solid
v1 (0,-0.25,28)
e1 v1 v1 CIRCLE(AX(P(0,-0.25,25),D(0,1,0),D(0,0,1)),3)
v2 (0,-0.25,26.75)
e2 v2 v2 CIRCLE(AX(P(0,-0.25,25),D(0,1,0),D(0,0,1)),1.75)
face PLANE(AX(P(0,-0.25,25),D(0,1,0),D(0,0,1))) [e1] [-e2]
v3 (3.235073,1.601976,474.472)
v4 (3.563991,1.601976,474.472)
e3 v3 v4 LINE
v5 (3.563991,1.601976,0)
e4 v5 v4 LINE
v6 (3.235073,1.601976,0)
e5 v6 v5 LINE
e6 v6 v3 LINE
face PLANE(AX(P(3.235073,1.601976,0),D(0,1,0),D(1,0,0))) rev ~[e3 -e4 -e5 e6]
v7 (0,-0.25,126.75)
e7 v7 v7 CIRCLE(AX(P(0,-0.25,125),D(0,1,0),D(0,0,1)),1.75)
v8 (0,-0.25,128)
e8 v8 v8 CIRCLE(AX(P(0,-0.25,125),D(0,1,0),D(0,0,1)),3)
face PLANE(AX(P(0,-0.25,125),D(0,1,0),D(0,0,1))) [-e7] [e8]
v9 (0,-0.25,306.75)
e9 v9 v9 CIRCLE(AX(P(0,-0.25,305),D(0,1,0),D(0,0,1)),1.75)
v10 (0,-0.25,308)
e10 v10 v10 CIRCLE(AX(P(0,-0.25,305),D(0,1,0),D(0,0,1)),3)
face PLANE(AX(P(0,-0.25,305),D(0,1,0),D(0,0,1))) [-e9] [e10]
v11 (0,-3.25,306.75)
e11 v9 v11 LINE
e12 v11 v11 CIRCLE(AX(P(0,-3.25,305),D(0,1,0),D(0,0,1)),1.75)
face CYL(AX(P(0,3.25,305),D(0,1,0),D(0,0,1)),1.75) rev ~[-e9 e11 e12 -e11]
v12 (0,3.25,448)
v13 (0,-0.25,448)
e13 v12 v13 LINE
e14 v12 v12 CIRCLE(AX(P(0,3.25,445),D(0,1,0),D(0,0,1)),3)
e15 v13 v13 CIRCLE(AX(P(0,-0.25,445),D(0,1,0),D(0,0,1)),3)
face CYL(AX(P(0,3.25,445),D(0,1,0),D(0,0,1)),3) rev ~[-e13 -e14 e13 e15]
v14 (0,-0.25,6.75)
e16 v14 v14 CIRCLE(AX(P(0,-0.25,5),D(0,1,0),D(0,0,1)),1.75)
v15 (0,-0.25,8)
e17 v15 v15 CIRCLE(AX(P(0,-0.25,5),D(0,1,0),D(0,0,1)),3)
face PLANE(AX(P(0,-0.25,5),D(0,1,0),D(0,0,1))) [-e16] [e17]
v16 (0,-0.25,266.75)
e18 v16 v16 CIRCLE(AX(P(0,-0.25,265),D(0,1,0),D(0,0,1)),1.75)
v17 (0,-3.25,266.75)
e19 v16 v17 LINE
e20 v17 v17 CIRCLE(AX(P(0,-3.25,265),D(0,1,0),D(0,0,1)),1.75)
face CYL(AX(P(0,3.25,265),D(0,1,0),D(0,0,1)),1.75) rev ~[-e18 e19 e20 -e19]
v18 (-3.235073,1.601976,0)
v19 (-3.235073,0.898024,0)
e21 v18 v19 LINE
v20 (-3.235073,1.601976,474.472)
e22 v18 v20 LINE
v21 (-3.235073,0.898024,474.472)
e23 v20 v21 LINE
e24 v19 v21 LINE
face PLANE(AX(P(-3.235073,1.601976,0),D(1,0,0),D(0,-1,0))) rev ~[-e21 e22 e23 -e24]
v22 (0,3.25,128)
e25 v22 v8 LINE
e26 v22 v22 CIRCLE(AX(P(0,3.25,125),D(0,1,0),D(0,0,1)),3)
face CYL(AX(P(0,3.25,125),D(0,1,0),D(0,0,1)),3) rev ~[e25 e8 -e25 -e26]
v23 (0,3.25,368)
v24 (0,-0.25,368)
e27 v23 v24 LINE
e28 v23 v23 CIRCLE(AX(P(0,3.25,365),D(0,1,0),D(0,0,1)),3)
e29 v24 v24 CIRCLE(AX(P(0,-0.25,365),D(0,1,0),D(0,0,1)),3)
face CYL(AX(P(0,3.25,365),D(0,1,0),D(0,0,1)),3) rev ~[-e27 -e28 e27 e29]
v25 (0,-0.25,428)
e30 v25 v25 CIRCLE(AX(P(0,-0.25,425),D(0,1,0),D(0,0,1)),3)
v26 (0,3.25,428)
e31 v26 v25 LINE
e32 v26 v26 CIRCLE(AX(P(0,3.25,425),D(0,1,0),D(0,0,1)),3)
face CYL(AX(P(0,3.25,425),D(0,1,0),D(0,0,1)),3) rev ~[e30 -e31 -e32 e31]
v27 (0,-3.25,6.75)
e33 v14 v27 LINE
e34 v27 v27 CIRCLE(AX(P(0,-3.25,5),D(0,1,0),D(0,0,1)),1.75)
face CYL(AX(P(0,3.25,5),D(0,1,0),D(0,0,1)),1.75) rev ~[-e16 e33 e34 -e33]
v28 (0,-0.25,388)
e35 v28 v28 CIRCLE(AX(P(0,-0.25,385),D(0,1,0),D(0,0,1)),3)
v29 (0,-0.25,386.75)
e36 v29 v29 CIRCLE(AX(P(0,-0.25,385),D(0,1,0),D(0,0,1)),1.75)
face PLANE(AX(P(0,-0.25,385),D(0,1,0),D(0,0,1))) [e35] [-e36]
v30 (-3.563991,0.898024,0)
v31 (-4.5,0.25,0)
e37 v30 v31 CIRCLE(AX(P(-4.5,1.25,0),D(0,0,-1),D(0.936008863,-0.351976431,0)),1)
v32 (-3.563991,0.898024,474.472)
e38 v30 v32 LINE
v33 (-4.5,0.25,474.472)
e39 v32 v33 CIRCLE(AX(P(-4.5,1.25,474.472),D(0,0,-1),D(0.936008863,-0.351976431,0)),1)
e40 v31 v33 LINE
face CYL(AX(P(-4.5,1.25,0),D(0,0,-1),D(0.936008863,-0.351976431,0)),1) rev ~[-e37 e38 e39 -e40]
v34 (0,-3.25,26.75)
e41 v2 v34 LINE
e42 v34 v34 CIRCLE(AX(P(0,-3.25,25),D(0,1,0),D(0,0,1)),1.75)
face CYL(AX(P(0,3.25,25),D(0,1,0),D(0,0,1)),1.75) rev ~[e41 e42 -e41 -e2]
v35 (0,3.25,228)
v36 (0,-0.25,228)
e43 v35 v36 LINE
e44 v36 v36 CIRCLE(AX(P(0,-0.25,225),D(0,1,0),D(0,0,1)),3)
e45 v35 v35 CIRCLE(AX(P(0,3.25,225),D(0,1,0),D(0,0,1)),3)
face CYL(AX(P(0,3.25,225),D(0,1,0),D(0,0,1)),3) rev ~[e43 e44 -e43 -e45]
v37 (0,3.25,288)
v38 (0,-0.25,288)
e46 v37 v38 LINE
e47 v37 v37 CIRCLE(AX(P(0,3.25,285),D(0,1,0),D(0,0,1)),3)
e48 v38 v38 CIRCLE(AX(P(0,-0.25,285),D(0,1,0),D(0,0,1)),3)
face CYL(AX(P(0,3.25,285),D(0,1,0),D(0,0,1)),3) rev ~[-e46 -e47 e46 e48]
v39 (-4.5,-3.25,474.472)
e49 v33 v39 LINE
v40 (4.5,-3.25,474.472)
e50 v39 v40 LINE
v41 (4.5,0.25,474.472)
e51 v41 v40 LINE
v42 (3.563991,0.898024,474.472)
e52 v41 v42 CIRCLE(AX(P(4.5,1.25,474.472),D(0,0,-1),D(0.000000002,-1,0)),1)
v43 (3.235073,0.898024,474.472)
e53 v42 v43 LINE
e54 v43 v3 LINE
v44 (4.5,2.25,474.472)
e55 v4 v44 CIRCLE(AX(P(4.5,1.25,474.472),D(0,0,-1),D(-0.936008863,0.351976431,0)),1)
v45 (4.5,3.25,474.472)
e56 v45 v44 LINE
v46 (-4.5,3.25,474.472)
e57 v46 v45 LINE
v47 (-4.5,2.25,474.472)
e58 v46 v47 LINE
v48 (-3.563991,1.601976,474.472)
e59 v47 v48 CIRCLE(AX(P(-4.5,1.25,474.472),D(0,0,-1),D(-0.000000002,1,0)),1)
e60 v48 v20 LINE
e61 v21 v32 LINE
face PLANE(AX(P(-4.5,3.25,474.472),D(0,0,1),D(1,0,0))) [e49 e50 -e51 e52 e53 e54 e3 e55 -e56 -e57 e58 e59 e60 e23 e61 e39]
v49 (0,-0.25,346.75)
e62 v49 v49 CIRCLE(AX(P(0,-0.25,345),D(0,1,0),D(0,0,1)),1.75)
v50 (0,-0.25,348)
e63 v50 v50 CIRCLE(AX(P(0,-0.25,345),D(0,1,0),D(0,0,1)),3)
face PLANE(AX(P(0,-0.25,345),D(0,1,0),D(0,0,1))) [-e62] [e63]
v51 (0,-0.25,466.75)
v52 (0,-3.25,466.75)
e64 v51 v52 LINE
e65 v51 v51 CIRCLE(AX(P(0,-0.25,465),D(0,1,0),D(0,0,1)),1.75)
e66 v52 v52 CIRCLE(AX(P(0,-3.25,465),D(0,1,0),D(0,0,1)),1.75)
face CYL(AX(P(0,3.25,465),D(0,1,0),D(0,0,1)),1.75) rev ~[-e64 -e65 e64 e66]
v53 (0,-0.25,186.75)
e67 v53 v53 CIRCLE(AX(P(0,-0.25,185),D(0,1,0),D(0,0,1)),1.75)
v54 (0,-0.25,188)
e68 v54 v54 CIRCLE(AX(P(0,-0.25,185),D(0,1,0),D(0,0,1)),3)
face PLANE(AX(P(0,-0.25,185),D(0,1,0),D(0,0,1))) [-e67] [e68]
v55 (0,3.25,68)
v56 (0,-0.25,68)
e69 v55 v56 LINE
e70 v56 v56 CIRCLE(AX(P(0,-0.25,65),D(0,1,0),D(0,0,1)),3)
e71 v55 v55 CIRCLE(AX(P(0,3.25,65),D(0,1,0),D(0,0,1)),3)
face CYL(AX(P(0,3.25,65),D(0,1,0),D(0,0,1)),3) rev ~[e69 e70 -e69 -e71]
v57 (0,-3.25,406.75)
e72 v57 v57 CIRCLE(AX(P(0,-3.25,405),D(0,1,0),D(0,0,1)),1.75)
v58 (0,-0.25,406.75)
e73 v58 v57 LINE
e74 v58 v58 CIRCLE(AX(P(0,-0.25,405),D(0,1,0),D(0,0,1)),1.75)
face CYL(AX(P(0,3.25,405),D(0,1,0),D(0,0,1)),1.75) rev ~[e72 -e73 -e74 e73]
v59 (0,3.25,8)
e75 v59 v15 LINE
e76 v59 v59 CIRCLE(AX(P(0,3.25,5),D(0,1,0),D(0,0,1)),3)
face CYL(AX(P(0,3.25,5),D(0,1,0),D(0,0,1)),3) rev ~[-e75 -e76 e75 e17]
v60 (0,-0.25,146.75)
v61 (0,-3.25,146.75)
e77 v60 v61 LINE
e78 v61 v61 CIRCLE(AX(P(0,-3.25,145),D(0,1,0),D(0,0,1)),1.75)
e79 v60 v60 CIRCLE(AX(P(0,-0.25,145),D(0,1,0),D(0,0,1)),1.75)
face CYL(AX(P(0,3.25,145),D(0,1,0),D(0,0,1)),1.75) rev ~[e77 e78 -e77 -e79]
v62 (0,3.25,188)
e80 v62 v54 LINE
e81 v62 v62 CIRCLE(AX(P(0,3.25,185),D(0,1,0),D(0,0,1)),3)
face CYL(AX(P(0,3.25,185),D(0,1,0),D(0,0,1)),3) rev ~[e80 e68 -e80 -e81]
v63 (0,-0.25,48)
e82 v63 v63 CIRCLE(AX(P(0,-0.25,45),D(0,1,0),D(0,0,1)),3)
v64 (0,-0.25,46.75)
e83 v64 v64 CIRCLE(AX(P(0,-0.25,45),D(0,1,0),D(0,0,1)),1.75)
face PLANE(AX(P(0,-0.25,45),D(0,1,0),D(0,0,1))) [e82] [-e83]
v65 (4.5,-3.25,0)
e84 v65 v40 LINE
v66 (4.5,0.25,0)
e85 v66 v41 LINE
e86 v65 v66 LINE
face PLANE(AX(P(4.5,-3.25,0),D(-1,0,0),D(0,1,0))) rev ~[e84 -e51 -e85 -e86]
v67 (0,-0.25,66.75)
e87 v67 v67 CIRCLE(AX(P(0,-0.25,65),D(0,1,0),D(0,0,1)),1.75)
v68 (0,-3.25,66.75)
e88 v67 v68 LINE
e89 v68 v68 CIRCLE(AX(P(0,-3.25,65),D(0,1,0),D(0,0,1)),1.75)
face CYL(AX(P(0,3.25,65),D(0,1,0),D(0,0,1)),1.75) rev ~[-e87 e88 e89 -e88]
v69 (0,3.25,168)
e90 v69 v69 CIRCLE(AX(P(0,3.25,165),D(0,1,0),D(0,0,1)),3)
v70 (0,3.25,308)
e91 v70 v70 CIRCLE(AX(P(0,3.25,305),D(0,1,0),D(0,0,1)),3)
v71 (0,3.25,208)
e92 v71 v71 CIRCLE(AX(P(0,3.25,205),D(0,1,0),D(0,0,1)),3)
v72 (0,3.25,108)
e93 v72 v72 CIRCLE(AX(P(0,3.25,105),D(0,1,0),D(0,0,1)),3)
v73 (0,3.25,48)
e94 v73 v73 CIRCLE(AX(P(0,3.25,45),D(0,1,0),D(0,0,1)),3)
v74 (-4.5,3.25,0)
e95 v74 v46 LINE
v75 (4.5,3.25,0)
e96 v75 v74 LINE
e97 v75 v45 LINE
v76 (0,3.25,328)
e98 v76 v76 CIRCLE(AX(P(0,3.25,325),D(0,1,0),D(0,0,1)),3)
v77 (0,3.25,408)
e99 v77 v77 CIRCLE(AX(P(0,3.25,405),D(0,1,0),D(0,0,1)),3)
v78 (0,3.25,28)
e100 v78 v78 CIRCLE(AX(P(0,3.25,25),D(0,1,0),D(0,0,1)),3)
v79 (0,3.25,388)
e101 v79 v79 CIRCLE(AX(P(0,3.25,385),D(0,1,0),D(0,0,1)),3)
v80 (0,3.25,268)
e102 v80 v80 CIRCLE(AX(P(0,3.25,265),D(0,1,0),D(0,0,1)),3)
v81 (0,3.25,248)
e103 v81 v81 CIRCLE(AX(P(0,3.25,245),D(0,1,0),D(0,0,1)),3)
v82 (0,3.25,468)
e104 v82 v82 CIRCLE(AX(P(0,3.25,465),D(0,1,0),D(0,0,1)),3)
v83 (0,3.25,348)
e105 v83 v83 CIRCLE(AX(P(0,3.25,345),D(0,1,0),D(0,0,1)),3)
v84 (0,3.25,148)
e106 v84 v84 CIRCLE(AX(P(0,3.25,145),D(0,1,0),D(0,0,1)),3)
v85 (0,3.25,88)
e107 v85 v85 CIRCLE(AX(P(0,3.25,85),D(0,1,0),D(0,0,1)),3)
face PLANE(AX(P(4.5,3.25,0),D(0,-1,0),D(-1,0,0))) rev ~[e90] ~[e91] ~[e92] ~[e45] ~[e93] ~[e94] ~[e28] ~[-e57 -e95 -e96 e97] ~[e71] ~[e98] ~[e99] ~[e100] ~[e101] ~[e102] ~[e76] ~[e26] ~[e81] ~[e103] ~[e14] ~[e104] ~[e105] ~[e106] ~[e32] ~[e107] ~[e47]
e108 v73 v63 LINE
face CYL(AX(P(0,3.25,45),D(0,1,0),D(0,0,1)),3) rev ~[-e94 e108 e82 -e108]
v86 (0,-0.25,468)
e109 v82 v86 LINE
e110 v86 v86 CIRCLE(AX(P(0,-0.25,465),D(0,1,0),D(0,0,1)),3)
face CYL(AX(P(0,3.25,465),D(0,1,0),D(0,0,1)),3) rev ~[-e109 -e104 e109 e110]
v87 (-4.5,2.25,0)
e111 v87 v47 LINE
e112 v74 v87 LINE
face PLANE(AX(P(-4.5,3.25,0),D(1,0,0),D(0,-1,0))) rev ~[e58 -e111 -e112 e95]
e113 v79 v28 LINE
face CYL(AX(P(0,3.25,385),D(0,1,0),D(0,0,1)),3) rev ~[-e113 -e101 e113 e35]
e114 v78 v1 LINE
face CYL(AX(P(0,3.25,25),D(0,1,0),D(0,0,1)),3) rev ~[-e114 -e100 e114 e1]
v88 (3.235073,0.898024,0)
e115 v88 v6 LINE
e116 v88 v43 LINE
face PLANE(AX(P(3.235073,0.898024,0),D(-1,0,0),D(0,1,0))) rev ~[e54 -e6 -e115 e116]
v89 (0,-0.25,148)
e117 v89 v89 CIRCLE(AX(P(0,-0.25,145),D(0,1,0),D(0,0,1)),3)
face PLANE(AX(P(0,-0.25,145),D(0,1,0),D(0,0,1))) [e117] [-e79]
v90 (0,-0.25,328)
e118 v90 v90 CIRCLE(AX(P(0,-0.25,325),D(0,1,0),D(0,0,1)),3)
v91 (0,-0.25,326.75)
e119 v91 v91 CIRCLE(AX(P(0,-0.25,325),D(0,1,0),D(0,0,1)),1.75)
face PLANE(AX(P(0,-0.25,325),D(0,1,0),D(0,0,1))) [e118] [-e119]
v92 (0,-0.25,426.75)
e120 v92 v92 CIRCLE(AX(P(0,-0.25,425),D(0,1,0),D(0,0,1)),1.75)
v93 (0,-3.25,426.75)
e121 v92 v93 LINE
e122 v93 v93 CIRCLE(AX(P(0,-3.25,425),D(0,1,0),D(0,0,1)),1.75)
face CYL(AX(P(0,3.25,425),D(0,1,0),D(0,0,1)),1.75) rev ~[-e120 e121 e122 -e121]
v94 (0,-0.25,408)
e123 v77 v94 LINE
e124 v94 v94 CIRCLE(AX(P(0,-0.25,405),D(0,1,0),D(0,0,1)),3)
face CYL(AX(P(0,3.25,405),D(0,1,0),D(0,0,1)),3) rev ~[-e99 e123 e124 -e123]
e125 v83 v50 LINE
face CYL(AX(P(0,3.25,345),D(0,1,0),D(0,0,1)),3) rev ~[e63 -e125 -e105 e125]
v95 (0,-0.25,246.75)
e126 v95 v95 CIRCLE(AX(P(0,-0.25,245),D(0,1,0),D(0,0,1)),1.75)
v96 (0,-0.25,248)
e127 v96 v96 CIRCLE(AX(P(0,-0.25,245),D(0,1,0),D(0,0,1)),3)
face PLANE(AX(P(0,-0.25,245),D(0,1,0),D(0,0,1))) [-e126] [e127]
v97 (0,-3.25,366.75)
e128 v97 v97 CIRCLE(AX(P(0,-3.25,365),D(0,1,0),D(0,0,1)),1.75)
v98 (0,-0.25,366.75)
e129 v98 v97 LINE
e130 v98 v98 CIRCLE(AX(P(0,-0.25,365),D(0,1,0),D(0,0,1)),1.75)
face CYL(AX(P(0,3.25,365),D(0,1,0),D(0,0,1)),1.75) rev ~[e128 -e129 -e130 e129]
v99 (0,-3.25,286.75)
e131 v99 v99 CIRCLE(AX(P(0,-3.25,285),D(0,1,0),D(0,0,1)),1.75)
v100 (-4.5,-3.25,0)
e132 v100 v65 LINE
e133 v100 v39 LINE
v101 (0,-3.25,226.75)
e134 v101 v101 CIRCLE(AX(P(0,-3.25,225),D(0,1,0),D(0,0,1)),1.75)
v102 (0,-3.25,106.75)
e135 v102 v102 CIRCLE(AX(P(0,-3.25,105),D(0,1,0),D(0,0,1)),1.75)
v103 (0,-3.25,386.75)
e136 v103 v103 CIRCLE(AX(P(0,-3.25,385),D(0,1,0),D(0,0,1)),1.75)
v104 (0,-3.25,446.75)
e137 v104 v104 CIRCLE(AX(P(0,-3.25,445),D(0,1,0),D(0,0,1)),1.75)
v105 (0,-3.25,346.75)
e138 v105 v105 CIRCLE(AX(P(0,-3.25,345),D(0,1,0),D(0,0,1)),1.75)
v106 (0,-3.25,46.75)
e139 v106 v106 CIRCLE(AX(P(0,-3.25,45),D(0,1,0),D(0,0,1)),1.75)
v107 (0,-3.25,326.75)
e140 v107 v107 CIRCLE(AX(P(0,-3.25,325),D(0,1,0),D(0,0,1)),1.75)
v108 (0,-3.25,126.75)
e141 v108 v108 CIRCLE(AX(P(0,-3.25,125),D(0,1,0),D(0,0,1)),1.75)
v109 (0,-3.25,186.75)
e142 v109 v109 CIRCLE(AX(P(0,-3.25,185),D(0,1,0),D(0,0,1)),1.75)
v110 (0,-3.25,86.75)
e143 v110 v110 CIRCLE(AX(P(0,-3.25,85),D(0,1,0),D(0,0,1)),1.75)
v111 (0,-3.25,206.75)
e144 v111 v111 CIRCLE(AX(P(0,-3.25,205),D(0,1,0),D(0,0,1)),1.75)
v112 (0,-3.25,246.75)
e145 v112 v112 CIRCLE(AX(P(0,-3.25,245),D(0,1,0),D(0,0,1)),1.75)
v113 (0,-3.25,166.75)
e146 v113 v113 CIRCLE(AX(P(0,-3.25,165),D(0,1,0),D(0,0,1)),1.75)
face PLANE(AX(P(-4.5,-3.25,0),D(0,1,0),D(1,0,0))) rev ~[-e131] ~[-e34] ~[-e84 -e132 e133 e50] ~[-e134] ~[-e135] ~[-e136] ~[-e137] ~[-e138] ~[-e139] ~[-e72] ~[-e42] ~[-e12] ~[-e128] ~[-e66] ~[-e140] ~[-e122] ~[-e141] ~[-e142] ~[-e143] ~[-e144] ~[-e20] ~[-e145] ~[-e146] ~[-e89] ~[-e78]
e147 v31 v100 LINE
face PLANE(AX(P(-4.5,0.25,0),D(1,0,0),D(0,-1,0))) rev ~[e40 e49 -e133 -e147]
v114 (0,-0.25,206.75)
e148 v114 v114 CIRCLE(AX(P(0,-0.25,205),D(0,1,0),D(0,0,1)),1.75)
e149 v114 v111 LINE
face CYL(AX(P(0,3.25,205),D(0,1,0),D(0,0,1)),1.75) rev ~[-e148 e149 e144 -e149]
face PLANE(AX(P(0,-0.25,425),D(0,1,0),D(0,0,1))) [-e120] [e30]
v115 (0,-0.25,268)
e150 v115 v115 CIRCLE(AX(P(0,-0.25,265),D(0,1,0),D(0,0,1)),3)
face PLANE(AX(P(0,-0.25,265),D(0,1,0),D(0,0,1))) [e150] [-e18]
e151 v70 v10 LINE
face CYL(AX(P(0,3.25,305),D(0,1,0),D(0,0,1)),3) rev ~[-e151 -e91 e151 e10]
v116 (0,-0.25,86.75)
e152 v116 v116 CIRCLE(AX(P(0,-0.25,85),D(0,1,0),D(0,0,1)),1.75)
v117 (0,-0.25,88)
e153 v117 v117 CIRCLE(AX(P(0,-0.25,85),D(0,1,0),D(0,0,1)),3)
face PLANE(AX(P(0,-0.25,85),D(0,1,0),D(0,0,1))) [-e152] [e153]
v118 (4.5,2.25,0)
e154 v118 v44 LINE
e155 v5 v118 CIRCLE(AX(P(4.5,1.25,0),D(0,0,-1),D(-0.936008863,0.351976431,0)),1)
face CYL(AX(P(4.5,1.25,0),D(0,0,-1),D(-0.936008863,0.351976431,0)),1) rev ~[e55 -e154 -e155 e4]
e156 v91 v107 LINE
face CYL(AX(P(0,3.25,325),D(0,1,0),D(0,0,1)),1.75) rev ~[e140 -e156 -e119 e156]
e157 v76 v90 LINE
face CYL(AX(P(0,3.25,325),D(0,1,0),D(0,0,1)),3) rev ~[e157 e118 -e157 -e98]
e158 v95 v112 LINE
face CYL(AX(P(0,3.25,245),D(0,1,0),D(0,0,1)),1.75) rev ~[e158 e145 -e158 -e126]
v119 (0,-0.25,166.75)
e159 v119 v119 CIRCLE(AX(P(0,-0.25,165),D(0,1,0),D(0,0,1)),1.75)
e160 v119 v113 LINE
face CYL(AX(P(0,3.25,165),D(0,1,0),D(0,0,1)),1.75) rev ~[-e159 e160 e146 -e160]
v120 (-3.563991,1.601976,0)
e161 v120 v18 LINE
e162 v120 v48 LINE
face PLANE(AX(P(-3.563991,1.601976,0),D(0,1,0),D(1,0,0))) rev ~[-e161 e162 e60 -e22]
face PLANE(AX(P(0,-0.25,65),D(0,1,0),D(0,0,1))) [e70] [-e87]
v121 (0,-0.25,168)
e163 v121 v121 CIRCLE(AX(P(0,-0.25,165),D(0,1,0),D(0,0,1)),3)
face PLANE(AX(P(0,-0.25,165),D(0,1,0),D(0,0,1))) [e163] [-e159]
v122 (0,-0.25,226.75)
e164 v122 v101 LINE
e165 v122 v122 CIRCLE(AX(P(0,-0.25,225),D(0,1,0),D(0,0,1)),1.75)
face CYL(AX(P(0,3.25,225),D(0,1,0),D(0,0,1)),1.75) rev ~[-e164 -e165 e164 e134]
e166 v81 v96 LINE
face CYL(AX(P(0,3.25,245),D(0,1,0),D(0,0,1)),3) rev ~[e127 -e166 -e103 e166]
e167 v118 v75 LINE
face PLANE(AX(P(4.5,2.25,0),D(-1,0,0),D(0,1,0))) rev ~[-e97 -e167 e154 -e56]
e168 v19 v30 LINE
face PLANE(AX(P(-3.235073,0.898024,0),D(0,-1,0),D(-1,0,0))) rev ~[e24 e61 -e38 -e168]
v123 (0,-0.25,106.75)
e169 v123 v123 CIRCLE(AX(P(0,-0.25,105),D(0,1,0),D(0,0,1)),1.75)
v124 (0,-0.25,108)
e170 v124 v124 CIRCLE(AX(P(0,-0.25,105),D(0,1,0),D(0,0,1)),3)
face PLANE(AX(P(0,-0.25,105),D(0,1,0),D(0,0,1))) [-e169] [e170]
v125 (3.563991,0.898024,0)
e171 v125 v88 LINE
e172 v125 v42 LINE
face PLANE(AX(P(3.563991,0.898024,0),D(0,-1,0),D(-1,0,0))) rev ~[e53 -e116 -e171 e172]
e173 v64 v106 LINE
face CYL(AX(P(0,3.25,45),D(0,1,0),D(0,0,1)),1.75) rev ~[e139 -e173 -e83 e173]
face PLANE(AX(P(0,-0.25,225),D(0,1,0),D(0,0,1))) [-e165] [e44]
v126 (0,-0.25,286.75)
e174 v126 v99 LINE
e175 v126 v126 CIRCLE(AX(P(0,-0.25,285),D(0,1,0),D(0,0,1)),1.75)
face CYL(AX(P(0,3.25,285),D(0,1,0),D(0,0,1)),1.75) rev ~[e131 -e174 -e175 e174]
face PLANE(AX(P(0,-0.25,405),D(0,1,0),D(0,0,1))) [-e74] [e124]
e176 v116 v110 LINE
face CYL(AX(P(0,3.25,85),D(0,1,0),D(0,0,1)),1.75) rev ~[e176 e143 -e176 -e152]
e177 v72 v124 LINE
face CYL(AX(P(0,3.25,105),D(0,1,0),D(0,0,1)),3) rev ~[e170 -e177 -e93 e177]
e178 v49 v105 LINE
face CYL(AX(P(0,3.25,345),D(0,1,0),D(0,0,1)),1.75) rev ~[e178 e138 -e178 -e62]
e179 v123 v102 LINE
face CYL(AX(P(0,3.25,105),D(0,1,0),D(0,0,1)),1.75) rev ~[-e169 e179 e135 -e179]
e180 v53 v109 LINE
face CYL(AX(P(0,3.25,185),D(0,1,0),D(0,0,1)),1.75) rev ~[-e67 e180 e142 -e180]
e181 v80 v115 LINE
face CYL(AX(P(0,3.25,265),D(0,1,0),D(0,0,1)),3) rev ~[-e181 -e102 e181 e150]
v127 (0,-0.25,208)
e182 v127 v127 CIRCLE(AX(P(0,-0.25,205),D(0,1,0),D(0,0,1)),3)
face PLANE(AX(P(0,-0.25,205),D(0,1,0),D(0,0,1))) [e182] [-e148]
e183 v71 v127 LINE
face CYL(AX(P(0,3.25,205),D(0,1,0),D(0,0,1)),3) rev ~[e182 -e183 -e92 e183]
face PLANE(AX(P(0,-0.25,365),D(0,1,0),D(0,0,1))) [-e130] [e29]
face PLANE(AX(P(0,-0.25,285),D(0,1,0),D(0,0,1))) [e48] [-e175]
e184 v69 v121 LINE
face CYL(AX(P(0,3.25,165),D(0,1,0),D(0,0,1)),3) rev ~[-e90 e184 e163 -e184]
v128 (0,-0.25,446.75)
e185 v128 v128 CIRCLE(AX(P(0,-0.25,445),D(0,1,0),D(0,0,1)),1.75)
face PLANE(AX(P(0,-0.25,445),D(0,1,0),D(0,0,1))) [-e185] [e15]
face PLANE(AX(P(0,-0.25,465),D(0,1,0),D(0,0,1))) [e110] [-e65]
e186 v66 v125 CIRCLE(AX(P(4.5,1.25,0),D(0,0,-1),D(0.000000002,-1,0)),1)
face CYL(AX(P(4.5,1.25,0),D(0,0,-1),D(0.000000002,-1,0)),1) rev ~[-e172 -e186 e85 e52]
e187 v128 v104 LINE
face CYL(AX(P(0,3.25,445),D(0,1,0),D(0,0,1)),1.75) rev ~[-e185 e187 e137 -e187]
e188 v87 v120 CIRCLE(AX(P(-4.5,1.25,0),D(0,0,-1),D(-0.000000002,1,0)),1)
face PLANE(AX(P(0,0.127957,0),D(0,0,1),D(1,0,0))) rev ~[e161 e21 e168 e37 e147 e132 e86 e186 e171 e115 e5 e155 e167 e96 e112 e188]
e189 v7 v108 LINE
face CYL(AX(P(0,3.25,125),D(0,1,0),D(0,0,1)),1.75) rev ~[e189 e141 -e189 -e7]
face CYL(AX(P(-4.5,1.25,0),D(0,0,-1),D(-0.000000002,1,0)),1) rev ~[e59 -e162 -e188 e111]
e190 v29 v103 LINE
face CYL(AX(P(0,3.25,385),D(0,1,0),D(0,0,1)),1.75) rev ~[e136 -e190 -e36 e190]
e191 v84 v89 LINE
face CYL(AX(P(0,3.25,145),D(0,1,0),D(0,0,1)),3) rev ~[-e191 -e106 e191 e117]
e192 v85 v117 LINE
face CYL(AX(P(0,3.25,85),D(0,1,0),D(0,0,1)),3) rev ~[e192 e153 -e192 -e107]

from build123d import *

# Parameters (mm, degrees)
EXTRUDE1_DEPTH     = 600
SKETCH2_R          = 3
EXTRUDE2_DEPTH     = 3.5
SKETCH_R           = 1.75
EXTRUDE3_DEPTH     = 601.052081073
LPATTERN1_COUNT    = 30
LPATTERN1_PITCH    = 20
SKETCH3_W          = 9
SKETCH3_H          = 125.528
CUT_EXTRUDE1_DEPTH = 601.052081073


with BuildPart() as part:
    # Sketch1 → Extrude1 (new body)
    with BuildSketch(Plane.XY):
        with BuildLine():
            Line((-4.5, -3.25), (4.5, -3.25))
            Line((4.5, -3.25), (4.5, 0.25))
            ThreePointArc((4.5, 0.25), (3.93077967, 0.427814974), (3.563991137, 0.898023568))
            Line((3.563991137, 0.898023568), (3.235073025, 0.898023568))
            Line((3.235073025, 0.898023568), (3.235073025, 1.601976432))
            Line((3.235073025, 1.601976432), (3.563991137, 1.601976432))
            ThreePointArc((3.563991137, 1.601976432), (3.93077967, 2.072185026), (4.5, 2.25))
            Line((4.5, 2.25), (4.5, 3.25))
            Line((4.5, 3.25), (-4.5, 3.25))
            Line((-4.5, 3.25), (-4.5, 2.25))
            ThreePointArc((-4.5, 2.25), (-3.93077967, 2.072185026), (-3.563991137, 1.601976432))
            Line((-3.563991137, 1.601976432), (-3.235073025, 1.601976432))
            Line((-3.235073025, 1.601976432), (-3.235073025, 0.898023568))
            Line((-3.235073025, 0.898023568), (-3.563991137, 0.898023568))
            ThreePointArc((-3.563991137, 0.898023568), (-3.93077967, 0.427814974), (-4.5, 0.25))
            Line((-4.5, 0.25), (-4.5, -3.25))
        make_face()
    extrude(amount=EXTRUDE1_DEPTH)

    # Sketch2 → Extrude2 (cut)
    with BuildSketch(Plane(origin=(0, 3.25, 0), x_dir=(1, 0, 0), z_dir=(0, 1, 0))):
        with Locations((0, -5)):
            Circle(SKETCH2_R)
    extrude2 = extrude(amount=-EXTRUDE2_DEPTH, mode=Mode.SUBTRACT)

    # Sketch → Extrude3 (cut, through all)
    with BuildSketch(Plane(origin=(0, 3.25, 0), x_dir=(1, 0, 0), z_dir=(0, 1, 0))):
        with Locations((0, -5)):
            Circle(SKETCH_R)
    extrude3 = extrude(amount=-EXTRUDE3_DEPTH, mode=Mode.SUBTRACT)

    # LPattern1: Extrude2, Extrude3 ×30
    with Locations(*[(0, 0, i * LPATTERN1_PITCH) for i in range(1, LPATTERN1_COUNT)]):
        add(extrude2, mode=Mode.SUBTRACT)
        add(extrude3, mode=Mode.SUBTRACT)

    # Sketch3 → Cut-Extrude1 (cut, through all)
    with BuildSketch(Plane(origin=(0, 3.25, 0), x_dir=(1, 0, 0), z_dir=(0, 1, 0))):
        with Locations((0, -537.236)):
            Rectangle(SKETCH3_W, SKETCH3_H)
    extrude(amount=-CUT_EXTRUDE1_DEPTH, mode=Mode.SUBTRACT)


solid = part.part
